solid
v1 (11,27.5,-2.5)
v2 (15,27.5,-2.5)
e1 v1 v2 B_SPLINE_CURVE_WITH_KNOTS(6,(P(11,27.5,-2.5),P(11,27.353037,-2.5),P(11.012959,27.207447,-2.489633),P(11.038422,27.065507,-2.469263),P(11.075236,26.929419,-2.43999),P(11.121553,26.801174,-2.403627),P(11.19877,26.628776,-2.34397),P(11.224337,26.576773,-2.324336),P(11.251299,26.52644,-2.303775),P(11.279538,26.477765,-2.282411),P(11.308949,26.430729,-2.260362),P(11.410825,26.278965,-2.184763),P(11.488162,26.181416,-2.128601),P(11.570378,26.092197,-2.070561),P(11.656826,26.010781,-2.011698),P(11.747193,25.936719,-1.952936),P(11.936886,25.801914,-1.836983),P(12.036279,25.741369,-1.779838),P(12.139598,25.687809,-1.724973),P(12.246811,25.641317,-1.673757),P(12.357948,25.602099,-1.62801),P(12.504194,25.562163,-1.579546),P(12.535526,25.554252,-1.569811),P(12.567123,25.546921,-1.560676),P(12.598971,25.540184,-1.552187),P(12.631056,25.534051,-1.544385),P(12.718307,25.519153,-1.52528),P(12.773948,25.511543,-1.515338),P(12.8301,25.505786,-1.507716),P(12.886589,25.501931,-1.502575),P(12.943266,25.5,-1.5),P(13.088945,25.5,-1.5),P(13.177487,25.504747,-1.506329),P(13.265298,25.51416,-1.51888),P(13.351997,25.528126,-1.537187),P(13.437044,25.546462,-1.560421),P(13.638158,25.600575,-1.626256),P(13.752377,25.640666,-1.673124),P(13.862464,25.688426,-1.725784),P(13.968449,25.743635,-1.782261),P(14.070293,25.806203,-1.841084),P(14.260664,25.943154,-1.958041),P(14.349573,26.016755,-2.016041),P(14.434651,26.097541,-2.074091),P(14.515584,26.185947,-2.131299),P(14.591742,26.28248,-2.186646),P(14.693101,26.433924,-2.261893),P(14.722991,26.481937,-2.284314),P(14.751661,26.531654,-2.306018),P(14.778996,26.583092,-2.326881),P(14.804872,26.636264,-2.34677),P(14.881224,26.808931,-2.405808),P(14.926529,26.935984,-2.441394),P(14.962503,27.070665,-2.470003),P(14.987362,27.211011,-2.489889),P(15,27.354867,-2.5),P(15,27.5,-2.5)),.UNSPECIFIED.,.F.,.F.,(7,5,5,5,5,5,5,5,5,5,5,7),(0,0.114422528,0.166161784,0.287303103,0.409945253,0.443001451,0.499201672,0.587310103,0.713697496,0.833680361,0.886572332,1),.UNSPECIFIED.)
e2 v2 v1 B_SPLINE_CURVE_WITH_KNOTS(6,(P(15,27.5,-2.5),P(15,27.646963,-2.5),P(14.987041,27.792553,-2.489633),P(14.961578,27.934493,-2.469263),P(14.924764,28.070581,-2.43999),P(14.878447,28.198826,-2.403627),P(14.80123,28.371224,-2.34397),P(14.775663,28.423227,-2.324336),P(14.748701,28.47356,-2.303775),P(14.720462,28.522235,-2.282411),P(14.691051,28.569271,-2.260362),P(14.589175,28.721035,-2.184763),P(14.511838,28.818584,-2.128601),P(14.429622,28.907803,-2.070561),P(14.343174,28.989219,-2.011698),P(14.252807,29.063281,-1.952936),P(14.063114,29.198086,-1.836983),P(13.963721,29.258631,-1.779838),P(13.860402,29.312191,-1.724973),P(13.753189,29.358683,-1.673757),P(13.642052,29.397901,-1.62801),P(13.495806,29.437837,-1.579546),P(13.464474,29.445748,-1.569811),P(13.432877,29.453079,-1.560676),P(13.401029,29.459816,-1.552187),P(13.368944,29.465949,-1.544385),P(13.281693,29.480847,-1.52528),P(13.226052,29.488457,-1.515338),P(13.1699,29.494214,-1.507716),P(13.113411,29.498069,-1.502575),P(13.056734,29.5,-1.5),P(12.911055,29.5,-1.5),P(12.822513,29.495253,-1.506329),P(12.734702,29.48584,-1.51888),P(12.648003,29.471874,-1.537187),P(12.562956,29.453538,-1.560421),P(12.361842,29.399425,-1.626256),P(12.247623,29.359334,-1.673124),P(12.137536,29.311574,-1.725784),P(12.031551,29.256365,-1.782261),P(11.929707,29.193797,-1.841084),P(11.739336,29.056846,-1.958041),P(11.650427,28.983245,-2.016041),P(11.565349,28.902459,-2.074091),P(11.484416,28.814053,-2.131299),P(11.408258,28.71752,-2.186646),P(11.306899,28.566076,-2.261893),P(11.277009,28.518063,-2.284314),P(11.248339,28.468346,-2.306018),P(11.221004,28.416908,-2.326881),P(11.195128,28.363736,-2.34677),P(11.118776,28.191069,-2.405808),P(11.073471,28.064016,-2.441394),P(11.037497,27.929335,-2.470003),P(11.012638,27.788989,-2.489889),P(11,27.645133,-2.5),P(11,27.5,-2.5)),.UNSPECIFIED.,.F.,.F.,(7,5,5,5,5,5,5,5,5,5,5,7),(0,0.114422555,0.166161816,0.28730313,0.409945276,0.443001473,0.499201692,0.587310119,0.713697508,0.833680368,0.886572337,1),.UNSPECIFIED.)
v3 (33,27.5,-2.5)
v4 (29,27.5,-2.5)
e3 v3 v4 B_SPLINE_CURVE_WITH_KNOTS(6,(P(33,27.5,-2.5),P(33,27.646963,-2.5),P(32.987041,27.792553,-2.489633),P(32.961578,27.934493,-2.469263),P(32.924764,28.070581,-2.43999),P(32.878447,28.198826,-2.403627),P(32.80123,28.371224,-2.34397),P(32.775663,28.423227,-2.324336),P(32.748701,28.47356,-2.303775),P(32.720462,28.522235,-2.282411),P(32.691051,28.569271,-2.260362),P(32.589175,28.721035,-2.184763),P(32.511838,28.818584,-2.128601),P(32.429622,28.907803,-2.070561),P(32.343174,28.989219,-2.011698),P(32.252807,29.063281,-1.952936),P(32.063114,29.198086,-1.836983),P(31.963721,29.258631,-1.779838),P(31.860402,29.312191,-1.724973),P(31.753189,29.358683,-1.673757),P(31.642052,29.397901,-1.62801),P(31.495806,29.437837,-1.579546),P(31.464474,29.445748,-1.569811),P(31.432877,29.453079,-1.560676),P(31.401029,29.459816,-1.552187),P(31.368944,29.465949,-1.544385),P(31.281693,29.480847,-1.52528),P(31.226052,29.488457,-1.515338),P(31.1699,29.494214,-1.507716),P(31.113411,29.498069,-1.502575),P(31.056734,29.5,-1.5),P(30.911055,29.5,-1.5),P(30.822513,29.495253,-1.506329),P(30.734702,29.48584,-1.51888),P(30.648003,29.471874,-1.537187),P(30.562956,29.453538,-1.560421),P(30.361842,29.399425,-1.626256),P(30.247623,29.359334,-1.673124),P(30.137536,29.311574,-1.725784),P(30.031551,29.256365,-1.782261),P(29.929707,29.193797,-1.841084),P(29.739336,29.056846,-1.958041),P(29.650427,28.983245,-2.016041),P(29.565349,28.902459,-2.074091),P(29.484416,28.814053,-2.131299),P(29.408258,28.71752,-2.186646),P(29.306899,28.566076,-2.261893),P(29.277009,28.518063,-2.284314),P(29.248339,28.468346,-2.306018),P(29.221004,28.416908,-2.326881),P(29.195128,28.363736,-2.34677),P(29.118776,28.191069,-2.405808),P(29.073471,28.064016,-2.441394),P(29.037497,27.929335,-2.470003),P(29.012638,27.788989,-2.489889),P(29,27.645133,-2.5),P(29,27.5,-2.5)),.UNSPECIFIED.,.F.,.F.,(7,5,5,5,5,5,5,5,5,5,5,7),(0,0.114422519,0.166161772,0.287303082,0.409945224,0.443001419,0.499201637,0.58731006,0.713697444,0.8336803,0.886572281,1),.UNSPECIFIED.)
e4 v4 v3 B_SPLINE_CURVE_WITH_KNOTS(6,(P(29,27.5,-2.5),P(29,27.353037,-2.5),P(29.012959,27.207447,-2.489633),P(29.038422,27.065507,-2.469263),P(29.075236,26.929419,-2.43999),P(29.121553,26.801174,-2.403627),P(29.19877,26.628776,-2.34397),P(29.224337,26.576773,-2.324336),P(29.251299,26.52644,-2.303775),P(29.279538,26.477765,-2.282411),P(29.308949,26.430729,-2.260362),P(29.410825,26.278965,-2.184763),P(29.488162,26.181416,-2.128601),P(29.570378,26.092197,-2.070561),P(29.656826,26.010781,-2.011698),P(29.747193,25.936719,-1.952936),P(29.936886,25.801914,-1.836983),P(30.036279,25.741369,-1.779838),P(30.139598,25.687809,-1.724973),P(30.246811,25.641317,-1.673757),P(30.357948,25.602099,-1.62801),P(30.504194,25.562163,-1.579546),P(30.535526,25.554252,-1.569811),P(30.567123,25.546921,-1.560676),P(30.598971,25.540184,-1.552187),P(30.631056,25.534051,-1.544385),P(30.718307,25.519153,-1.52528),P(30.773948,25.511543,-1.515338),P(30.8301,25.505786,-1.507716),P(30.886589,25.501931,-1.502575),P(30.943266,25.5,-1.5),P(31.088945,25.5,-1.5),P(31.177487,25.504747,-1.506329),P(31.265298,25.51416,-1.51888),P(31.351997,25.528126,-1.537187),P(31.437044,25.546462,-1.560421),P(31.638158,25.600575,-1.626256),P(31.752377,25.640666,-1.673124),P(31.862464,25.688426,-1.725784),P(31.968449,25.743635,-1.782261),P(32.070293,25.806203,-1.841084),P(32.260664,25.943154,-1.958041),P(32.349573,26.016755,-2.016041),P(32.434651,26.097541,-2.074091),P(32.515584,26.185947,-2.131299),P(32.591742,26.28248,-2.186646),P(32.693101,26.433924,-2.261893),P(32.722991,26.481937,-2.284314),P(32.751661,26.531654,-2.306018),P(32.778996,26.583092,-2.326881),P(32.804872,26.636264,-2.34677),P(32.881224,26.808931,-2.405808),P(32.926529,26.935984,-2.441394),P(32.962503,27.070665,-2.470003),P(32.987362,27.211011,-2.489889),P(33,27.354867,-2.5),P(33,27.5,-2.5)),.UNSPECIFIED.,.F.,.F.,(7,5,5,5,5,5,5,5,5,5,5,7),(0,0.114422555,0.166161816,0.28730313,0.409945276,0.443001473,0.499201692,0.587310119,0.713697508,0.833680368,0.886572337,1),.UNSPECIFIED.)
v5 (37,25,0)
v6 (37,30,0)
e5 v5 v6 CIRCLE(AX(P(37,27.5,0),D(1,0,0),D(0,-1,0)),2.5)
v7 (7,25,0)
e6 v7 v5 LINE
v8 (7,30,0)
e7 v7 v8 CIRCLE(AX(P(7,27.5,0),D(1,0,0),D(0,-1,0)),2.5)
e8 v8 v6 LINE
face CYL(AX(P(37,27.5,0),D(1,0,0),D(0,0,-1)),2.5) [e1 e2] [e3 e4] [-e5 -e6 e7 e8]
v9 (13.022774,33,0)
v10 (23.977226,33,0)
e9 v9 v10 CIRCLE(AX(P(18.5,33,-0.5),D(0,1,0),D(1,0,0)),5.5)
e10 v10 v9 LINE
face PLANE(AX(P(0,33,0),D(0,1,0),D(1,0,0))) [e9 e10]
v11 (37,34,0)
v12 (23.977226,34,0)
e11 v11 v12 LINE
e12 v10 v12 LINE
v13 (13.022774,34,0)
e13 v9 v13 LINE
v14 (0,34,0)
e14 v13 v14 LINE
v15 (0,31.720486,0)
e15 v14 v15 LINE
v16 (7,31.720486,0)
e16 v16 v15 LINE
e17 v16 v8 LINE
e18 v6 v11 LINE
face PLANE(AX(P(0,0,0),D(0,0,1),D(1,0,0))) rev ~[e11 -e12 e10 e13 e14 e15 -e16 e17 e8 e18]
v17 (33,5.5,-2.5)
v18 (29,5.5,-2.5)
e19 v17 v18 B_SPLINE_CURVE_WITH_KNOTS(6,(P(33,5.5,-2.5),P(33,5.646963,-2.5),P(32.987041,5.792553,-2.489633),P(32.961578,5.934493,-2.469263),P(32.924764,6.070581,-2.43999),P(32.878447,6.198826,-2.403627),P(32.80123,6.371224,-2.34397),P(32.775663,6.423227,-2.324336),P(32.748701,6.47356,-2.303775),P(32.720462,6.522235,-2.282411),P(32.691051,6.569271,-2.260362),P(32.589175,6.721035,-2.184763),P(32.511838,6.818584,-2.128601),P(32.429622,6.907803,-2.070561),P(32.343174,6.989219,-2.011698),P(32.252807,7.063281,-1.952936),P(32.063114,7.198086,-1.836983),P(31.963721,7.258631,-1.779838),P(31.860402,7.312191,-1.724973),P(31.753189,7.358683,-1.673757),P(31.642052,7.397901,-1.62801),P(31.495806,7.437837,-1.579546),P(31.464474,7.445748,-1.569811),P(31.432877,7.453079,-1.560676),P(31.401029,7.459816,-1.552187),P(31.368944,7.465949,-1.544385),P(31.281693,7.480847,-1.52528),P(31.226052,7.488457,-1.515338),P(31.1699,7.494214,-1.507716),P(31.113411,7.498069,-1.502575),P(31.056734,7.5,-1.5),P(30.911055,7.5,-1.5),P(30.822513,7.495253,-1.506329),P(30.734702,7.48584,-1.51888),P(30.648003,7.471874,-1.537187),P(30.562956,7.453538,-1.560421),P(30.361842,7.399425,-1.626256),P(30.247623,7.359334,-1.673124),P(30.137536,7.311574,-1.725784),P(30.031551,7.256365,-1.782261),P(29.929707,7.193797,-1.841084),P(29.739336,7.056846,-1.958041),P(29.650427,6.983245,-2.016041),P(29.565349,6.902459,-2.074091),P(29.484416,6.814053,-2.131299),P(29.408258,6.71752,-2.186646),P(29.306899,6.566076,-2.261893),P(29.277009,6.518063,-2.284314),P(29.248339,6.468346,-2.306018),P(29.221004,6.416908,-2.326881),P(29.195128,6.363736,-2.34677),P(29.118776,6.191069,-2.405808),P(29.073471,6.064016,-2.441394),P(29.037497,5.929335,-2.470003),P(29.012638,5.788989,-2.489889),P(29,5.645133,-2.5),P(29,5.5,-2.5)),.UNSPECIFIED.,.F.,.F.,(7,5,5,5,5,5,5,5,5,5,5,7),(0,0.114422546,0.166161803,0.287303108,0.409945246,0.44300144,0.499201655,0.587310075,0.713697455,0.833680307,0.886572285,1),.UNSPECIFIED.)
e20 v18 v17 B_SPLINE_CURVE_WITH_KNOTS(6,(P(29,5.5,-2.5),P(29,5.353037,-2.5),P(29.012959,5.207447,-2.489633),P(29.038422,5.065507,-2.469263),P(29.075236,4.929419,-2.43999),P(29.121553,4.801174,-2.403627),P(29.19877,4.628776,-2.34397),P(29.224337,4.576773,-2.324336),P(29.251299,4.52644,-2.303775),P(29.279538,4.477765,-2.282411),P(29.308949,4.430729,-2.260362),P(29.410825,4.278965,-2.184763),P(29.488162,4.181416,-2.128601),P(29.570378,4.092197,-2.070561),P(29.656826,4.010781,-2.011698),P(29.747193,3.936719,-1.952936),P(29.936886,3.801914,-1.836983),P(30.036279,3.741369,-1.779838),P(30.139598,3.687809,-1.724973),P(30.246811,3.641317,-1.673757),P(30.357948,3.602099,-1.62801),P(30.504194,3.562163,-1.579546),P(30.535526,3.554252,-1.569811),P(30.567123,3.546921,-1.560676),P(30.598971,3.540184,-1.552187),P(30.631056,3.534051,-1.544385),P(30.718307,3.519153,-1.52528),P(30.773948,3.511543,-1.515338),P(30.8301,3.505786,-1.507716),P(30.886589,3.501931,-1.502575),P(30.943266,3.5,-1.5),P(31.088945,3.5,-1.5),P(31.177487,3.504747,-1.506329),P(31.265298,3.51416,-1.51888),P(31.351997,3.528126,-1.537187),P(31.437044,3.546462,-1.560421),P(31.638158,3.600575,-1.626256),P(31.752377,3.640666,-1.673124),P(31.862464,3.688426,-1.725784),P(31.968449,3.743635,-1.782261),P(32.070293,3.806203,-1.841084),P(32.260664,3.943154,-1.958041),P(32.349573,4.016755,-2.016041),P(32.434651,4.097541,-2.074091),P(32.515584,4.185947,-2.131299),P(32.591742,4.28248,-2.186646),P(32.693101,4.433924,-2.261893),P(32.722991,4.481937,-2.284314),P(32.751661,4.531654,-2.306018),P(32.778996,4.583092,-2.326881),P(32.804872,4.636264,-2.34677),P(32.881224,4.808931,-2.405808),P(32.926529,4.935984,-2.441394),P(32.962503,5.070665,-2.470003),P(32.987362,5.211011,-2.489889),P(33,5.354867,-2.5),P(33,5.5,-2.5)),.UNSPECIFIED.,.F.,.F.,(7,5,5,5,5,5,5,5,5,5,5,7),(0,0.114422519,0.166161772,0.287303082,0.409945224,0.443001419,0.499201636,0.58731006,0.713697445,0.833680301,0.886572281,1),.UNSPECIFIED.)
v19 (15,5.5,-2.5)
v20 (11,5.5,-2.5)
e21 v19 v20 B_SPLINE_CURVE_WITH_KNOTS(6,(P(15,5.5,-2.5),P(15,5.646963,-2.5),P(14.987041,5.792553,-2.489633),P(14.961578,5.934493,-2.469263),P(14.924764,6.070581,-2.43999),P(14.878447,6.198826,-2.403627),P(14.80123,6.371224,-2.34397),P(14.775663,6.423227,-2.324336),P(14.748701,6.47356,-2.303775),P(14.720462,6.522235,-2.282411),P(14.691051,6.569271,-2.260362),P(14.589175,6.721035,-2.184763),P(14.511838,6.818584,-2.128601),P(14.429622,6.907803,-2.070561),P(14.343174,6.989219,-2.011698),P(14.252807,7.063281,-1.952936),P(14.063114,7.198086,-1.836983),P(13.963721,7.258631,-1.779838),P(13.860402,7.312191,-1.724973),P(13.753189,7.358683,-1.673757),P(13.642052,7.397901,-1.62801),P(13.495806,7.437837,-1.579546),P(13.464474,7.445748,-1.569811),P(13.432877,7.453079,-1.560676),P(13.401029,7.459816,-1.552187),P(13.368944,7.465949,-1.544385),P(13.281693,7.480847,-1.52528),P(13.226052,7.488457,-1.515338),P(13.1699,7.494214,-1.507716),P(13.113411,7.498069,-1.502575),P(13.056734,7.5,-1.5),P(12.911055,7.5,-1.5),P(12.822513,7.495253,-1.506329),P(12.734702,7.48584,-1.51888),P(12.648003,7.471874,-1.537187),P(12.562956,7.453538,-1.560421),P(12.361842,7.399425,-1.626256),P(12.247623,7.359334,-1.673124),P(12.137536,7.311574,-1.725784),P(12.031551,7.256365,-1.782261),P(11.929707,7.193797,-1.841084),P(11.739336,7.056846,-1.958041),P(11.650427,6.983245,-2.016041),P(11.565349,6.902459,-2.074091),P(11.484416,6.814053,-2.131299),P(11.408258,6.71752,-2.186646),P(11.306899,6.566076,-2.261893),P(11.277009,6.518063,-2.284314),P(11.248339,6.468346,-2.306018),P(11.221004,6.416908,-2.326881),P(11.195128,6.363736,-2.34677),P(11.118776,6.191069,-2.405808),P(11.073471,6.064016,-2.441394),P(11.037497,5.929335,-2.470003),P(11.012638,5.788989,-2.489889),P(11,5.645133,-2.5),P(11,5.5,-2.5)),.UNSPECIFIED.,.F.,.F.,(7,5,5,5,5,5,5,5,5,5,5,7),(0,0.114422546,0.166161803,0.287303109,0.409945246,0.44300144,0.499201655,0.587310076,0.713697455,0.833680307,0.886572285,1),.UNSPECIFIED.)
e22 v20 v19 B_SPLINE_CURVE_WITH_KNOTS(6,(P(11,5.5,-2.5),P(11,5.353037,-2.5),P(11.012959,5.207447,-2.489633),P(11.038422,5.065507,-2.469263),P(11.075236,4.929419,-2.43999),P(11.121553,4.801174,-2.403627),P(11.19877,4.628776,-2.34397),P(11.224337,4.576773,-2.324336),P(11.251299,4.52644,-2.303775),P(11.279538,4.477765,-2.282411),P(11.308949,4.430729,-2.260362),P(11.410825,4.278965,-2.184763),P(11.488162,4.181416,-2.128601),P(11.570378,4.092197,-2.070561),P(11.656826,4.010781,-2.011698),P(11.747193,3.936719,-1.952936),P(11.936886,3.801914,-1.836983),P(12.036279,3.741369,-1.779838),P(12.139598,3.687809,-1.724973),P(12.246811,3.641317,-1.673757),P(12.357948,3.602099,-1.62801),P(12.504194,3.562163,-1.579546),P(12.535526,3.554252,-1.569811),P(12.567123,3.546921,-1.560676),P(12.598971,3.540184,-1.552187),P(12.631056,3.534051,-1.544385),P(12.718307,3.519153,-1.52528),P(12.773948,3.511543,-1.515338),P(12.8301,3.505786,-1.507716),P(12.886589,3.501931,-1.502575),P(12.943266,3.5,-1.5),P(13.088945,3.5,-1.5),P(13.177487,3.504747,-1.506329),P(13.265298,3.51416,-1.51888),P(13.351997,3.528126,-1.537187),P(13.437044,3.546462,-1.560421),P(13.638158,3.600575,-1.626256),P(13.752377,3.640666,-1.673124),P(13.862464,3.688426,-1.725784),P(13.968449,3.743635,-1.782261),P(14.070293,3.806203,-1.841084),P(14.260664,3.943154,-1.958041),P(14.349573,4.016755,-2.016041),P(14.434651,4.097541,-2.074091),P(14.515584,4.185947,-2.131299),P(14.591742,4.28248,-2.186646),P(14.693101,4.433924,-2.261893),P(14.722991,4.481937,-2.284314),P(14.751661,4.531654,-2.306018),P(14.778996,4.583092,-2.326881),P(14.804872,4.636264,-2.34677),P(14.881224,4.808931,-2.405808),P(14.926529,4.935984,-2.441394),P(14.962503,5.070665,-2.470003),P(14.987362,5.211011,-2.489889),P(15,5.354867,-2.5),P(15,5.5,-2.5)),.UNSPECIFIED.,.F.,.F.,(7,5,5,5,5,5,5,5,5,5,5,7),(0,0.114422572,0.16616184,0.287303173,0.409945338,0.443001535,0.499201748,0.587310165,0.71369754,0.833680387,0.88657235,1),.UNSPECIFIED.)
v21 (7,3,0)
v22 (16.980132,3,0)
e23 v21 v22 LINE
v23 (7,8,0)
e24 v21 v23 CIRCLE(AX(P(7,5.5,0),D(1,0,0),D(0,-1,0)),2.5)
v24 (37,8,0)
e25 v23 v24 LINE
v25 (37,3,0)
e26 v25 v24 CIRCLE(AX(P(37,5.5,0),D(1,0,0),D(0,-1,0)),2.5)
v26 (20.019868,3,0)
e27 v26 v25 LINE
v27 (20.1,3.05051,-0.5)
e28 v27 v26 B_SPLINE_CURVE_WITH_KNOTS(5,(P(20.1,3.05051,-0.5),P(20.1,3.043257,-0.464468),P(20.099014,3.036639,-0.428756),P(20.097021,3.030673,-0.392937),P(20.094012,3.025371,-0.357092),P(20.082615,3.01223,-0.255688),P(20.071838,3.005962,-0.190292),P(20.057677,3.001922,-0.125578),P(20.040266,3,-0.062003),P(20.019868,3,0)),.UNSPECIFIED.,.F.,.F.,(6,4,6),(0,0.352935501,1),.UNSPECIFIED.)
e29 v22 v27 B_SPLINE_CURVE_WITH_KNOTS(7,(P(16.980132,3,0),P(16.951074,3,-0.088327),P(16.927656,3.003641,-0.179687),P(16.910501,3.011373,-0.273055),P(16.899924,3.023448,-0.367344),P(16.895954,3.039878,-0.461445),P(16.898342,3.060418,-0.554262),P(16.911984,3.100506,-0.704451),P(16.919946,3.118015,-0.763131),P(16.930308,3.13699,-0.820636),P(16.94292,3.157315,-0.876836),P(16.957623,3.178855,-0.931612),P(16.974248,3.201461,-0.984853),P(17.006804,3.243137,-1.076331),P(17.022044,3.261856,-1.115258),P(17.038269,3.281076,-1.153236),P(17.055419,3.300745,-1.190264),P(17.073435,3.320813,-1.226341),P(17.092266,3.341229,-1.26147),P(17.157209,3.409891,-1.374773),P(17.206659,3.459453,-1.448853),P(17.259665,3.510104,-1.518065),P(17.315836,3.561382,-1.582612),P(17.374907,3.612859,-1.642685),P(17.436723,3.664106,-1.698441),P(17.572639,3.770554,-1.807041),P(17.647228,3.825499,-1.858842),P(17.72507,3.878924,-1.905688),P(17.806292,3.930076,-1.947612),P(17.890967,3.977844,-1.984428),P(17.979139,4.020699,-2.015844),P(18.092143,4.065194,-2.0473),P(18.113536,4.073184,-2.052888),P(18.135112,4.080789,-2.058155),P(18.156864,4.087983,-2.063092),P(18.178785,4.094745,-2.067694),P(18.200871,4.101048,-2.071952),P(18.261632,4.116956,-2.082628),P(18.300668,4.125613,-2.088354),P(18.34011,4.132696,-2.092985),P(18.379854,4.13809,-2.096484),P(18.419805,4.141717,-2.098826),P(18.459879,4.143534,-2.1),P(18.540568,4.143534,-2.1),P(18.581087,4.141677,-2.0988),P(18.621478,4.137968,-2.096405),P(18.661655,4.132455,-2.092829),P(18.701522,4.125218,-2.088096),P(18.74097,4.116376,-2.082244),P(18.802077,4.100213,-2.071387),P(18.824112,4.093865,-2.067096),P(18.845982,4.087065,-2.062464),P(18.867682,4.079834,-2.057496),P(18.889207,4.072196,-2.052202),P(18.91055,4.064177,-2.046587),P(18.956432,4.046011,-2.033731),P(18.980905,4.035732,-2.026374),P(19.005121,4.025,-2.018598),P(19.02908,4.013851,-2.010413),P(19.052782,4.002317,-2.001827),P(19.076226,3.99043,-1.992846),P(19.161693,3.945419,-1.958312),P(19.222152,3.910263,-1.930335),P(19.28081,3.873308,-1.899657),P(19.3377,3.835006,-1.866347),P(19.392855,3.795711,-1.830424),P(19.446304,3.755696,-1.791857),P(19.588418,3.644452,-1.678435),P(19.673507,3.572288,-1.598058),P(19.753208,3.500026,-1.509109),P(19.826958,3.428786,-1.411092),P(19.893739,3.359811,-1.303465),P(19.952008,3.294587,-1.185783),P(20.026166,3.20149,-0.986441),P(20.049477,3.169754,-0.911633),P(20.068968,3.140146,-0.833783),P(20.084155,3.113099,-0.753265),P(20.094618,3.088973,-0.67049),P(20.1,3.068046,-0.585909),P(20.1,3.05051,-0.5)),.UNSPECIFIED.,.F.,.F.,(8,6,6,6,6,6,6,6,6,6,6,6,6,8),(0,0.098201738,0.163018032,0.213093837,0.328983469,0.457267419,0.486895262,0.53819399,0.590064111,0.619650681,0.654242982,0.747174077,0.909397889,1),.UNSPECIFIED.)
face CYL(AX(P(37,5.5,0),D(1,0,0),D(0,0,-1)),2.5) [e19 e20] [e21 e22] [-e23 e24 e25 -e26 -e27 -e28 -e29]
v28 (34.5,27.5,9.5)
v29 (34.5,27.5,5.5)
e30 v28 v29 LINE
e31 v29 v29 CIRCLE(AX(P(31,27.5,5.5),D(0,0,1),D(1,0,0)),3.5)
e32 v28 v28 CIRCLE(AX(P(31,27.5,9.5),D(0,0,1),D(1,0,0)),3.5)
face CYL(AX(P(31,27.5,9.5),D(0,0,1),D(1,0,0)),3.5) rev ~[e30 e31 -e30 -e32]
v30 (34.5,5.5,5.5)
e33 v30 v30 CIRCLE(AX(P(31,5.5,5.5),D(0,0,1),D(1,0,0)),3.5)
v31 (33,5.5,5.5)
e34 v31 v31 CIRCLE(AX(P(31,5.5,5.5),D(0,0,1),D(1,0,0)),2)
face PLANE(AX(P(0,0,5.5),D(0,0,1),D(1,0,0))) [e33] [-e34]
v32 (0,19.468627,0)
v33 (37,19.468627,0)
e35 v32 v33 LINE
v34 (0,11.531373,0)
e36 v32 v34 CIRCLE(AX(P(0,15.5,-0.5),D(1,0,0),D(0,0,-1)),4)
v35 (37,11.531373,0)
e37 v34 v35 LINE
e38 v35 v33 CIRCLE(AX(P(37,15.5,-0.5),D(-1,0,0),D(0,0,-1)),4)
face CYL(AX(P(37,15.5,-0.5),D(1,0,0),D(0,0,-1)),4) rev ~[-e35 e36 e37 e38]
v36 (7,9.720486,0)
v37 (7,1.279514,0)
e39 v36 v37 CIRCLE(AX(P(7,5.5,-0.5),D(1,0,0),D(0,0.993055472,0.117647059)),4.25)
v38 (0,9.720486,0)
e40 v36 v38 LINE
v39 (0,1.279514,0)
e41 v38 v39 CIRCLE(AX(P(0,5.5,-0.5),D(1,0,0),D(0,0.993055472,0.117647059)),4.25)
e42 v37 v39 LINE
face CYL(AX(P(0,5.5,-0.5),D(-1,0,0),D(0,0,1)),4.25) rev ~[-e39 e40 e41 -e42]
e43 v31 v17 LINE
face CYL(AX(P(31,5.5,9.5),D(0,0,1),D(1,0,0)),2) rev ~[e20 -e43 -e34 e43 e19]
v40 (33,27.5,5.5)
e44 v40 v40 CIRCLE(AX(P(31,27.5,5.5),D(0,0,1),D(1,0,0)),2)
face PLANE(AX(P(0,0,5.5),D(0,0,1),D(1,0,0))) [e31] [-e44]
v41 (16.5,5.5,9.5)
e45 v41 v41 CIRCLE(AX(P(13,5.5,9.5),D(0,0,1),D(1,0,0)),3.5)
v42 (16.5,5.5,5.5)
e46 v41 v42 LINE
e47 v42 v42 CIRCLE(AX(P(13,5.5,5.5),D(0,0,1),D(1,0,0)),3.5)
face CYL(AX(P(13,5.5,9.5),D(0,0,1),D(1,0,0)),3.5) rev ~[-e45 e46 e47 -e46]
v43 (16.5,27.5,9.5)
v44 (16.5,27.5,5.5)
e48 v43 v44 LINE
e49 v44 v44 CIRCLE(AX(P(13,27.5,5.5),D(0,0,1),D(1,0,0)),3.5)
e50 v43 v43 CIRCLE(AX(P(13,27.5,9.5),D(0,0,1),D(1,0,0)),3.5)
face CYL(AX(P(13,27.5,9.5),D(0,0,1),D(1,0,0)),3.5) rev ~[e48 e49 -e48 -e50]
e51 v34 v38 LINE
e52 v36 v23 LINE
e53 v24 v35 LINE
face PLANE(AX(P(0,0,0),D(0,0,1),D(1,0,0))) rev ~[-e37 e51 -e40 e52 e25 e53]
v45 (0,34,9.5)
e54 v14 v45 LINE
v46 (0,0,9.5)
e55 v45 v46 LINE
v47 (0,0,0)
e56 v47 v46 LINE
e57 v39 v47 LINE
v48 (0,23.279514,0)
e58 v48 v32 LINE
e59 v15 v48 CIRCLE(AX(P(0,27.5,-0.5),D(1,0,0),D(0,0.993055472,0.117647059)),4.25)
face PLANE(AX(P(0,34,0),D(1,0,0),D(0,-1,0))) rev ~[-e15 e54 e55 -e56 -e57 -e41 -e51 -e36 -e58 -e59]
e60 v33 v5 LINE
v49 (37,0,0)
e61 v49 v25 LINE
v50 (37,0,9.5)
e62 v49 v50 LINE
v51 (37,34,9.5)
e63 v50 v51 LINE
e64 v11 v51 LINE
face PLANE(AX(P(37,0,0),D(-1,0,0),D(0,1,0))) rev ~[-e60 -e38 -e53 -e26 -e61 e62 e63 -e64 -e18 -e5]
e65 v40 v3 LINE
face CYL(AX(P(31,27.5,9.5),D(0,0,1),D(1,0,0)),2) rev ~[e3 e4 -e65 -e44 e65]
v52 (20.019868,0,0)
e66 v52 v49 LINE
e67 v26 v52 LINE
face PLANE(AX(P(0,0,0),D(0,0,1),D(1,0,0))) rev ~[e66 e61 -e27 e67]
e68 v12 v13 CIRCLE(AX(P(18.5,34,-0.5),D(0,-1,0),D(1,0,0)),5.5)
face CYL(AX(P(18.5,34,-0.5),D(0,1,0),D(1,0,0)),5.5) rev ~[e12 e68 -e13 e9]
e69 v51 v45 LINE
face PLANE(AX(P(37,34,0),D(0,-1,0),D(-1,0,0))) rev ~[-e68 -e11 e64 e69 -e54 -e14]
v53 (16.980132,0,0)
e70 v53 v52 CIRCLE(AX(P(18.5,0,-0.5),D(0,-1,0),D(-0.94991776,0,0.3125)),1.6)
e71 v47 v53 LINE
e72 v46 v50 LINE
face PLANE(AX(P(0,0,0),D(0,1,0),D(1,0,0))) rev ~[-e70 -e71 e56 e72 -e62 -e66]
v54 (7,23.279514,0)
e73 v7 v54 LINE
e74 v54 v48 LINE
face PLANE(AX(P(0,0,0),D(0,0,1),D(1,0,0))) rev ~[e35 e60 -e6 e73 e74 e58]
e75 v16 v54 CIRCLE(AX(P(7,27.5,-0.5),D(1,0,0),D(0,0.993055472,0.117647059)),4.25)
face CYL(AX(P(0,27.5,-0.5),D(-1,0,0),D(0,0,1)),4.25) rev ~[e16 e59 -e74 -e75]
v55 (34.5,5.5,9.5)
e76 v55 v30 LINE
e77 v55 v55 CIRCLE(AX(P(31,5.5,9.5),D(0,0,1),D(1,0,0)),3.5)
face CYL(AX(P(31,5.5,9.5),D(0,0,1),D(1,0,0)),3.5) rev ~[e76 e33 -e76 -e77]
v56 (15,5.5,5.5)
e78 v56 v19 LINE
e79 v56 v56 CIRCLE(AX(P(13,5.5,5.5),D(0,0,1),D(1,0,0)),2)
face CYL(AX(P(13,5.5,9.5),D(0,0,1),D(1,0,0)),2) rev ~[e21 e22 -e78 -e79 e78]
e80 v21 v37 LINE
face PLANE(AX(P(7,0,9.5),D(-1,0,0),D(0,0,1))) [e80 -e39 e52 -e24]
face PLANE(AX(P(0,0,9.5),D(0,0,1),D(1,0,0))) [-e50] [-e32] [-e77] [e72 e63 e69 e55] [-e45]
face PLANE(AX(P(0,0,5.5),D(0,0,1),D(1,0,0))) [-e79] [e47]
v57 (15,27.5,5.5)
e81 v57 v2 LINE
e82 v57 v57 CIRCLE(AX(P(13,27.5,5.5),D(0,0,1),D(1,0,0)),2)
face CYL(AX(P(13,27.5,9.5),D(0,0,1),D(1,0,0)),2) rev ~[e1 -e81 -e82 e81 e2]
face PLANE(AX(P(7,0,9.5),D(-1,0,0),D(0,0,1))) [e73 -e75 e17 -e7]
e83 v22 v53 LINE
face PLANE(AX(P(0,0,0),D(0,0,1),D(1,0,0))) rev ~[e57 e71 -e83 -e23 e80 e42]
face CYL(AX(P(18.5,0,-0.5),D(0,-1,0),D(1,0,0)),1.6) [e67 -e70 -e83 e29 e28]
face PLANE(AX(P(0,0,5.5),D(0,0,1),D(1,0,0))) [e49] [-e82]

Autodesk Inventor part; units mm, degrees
ref_plane "YZ Plane" through (0, 0, 0) normal (1, 0, 0) x (0, 1, 0)
ref_plane "XZ Plane" through (0, 0, 0) normal (0, 1, 0) x (-1, 0, 0)
ref_plane "XY Plane" through (0, 0, 0) normal (0, 0, 1) x (1, 0, 0)
sketch "Sketch1" plane through (0, 0, 0) normal (0, 0, 1) x (1, 0, 0)
  line L0 (0, 0) -> (37, 0)
  line L1 (37, 0) -> (37, 34)
  line L2 (37, 34) -> (0, 34)
  line L3 (0, 34) -> (0, 0)
  dimension "d0" = 37
  dimension "d1" = 34
extrude "Extrusion1" add sketch "Sketch1" along normal blind 9.5
sketch "Sketch2" plane through (37, 0, 0) normal (1, 0, 0) x (0, 0, -1)
  line L0 (0, 0) -> (0, 34) projected
  line L1 (0, 0) -> (-9.5, 0) projected
  circle A0 centre (0.5, 15.5) radius 4
  dimension "d4" = 8
  dimension "d5" = 15.5
  dimension "d6" = 0.5
extrude "Extrusion2" cut sketch "Sketch2" against normal up to surface (37 mm away)
sketch "Sketch4" plane through (37, 0, 9.5) normal (1, 0, 0) x (0, 0, -1)
  line L0 (9.5, 19.4686) -> (9.5, 34) projected
  line L1 (9.5, 0) -> (0, 0) projected
  line L2 (9.5, 0) -> (9.5, 11.5314) projected
  circle A0 centre (9.5, 27.5) radius 2.5
  circle A1 centre (9.5, 5.5) radius 2.5
  dimension "d19" = 5
  dimension "d20" = 5
  dimension "d21" = 5.5
  dimension "d45" = 27.5
extrude "Extrusion4" add sketch "Sketch4" against normal blind 30
sketch "Sketch3" plane through (0, 0, 9.5) normal (0, 0, 1) x (1, 0, 0)
  line L0 (0, 0) -> (37, 0) projected
  line L1 (37, 0) -> (37, 34) projected
  circle A0 centre (31, 5.5) radius 2
  circle A1 centre (31, 27.5) radius 2
  circle A2 centre (13, 5.5) radius 2
  circle A3 centre (13, 27.5) radius 2
  dimension "d9" = 4
  dimension "d10" = 6
  dimension "d11" = 5.5
  dimension "d12" = 27.5
  dimension "d13" = 4
  dimension "d15" = 24
  dimension "d16" = 4
extrude "Extrusion3" cut sketch "Sketch3" against normal up to next
sketch "Sketch5" plane through (0, 0, 9.5) normal (-1, 0, 0) x (0, 0, 1)
  line L0 (-9.5, 11.5314) -> (-9.5, 0) projected
  line L1 (-9.5, 0) -> (0, 0) projected
  circle A0 centre (-10, 27.5) radius 4.25
  circle A1 centre (-10, 5.5) radius 4.25
  dimension "d25" = 8.5
  dimension "d26" = 8.5
  dimension "d27" = 0.5
  dimension "d28" = 5.5
  dimension "d46" = 27.5
extrude "Extrusion5" cut sketch "Sketch5" against normal blind 7
sketch "Sketch6" plane through (0, 34, 0) normal (0, 1, 0) x (1, 0, 0)
  line L0 (37, 0) -> (0, 0) projected
  line L1 (37, 0) -> (37, -9.5) projected
  circle A0 centre (18.5, 0.5) radius 5.5
  dimension "d32" = 11
  dimension "d33" = 0.5
  dimension "d34" = 18.5
extrude "Extrusion6" cut sketch "Sketch6" against normal blind 1
sketch "Sketch7" plane through (0, 0, 0) normal (0, -1, 0) x (1, 0, 0)
  line L0 (0, 0) -> (37, 0) projected
  line L1 (37, 0) -> (37, 9.5) projected
  circle A0 centre (18.5, -0.5) radius 1.6
  dimension "d37" = 3.2
  dimension "d38" = 0.5
  dimension "d39" = 18.5
extrude "Extrusion7" add sketch "Sketch7" against normal blind 6
sketch "Sketch8" plane through (0, 0, 9.5) normal (0, 0, 1) x (1, 0, 0)
  circle A0 centre (13, 5.5) radius 2 projected
  circle A1 centre (31, 5.5) radius 2 projected
  circle A2 centre (31, 27.5) radius 2 projected
  circle A3 centre (13, 27.5) radius 2 projected
  circle A4 centre (13, 27.5) radius 3.5
  circle A5 centre (31, 27.5) radius 3.5
  circle A6 centre (31, 5.5) radius 3.5
  circle A7 centre (13, 5.5) radius 3.5
  dimension "d42" = 7
extrude "Extrusion8" cut sketch "Sketch8" against normal blind 4
properties part number "YAxisMotorCap" material "ABS Plastic"
